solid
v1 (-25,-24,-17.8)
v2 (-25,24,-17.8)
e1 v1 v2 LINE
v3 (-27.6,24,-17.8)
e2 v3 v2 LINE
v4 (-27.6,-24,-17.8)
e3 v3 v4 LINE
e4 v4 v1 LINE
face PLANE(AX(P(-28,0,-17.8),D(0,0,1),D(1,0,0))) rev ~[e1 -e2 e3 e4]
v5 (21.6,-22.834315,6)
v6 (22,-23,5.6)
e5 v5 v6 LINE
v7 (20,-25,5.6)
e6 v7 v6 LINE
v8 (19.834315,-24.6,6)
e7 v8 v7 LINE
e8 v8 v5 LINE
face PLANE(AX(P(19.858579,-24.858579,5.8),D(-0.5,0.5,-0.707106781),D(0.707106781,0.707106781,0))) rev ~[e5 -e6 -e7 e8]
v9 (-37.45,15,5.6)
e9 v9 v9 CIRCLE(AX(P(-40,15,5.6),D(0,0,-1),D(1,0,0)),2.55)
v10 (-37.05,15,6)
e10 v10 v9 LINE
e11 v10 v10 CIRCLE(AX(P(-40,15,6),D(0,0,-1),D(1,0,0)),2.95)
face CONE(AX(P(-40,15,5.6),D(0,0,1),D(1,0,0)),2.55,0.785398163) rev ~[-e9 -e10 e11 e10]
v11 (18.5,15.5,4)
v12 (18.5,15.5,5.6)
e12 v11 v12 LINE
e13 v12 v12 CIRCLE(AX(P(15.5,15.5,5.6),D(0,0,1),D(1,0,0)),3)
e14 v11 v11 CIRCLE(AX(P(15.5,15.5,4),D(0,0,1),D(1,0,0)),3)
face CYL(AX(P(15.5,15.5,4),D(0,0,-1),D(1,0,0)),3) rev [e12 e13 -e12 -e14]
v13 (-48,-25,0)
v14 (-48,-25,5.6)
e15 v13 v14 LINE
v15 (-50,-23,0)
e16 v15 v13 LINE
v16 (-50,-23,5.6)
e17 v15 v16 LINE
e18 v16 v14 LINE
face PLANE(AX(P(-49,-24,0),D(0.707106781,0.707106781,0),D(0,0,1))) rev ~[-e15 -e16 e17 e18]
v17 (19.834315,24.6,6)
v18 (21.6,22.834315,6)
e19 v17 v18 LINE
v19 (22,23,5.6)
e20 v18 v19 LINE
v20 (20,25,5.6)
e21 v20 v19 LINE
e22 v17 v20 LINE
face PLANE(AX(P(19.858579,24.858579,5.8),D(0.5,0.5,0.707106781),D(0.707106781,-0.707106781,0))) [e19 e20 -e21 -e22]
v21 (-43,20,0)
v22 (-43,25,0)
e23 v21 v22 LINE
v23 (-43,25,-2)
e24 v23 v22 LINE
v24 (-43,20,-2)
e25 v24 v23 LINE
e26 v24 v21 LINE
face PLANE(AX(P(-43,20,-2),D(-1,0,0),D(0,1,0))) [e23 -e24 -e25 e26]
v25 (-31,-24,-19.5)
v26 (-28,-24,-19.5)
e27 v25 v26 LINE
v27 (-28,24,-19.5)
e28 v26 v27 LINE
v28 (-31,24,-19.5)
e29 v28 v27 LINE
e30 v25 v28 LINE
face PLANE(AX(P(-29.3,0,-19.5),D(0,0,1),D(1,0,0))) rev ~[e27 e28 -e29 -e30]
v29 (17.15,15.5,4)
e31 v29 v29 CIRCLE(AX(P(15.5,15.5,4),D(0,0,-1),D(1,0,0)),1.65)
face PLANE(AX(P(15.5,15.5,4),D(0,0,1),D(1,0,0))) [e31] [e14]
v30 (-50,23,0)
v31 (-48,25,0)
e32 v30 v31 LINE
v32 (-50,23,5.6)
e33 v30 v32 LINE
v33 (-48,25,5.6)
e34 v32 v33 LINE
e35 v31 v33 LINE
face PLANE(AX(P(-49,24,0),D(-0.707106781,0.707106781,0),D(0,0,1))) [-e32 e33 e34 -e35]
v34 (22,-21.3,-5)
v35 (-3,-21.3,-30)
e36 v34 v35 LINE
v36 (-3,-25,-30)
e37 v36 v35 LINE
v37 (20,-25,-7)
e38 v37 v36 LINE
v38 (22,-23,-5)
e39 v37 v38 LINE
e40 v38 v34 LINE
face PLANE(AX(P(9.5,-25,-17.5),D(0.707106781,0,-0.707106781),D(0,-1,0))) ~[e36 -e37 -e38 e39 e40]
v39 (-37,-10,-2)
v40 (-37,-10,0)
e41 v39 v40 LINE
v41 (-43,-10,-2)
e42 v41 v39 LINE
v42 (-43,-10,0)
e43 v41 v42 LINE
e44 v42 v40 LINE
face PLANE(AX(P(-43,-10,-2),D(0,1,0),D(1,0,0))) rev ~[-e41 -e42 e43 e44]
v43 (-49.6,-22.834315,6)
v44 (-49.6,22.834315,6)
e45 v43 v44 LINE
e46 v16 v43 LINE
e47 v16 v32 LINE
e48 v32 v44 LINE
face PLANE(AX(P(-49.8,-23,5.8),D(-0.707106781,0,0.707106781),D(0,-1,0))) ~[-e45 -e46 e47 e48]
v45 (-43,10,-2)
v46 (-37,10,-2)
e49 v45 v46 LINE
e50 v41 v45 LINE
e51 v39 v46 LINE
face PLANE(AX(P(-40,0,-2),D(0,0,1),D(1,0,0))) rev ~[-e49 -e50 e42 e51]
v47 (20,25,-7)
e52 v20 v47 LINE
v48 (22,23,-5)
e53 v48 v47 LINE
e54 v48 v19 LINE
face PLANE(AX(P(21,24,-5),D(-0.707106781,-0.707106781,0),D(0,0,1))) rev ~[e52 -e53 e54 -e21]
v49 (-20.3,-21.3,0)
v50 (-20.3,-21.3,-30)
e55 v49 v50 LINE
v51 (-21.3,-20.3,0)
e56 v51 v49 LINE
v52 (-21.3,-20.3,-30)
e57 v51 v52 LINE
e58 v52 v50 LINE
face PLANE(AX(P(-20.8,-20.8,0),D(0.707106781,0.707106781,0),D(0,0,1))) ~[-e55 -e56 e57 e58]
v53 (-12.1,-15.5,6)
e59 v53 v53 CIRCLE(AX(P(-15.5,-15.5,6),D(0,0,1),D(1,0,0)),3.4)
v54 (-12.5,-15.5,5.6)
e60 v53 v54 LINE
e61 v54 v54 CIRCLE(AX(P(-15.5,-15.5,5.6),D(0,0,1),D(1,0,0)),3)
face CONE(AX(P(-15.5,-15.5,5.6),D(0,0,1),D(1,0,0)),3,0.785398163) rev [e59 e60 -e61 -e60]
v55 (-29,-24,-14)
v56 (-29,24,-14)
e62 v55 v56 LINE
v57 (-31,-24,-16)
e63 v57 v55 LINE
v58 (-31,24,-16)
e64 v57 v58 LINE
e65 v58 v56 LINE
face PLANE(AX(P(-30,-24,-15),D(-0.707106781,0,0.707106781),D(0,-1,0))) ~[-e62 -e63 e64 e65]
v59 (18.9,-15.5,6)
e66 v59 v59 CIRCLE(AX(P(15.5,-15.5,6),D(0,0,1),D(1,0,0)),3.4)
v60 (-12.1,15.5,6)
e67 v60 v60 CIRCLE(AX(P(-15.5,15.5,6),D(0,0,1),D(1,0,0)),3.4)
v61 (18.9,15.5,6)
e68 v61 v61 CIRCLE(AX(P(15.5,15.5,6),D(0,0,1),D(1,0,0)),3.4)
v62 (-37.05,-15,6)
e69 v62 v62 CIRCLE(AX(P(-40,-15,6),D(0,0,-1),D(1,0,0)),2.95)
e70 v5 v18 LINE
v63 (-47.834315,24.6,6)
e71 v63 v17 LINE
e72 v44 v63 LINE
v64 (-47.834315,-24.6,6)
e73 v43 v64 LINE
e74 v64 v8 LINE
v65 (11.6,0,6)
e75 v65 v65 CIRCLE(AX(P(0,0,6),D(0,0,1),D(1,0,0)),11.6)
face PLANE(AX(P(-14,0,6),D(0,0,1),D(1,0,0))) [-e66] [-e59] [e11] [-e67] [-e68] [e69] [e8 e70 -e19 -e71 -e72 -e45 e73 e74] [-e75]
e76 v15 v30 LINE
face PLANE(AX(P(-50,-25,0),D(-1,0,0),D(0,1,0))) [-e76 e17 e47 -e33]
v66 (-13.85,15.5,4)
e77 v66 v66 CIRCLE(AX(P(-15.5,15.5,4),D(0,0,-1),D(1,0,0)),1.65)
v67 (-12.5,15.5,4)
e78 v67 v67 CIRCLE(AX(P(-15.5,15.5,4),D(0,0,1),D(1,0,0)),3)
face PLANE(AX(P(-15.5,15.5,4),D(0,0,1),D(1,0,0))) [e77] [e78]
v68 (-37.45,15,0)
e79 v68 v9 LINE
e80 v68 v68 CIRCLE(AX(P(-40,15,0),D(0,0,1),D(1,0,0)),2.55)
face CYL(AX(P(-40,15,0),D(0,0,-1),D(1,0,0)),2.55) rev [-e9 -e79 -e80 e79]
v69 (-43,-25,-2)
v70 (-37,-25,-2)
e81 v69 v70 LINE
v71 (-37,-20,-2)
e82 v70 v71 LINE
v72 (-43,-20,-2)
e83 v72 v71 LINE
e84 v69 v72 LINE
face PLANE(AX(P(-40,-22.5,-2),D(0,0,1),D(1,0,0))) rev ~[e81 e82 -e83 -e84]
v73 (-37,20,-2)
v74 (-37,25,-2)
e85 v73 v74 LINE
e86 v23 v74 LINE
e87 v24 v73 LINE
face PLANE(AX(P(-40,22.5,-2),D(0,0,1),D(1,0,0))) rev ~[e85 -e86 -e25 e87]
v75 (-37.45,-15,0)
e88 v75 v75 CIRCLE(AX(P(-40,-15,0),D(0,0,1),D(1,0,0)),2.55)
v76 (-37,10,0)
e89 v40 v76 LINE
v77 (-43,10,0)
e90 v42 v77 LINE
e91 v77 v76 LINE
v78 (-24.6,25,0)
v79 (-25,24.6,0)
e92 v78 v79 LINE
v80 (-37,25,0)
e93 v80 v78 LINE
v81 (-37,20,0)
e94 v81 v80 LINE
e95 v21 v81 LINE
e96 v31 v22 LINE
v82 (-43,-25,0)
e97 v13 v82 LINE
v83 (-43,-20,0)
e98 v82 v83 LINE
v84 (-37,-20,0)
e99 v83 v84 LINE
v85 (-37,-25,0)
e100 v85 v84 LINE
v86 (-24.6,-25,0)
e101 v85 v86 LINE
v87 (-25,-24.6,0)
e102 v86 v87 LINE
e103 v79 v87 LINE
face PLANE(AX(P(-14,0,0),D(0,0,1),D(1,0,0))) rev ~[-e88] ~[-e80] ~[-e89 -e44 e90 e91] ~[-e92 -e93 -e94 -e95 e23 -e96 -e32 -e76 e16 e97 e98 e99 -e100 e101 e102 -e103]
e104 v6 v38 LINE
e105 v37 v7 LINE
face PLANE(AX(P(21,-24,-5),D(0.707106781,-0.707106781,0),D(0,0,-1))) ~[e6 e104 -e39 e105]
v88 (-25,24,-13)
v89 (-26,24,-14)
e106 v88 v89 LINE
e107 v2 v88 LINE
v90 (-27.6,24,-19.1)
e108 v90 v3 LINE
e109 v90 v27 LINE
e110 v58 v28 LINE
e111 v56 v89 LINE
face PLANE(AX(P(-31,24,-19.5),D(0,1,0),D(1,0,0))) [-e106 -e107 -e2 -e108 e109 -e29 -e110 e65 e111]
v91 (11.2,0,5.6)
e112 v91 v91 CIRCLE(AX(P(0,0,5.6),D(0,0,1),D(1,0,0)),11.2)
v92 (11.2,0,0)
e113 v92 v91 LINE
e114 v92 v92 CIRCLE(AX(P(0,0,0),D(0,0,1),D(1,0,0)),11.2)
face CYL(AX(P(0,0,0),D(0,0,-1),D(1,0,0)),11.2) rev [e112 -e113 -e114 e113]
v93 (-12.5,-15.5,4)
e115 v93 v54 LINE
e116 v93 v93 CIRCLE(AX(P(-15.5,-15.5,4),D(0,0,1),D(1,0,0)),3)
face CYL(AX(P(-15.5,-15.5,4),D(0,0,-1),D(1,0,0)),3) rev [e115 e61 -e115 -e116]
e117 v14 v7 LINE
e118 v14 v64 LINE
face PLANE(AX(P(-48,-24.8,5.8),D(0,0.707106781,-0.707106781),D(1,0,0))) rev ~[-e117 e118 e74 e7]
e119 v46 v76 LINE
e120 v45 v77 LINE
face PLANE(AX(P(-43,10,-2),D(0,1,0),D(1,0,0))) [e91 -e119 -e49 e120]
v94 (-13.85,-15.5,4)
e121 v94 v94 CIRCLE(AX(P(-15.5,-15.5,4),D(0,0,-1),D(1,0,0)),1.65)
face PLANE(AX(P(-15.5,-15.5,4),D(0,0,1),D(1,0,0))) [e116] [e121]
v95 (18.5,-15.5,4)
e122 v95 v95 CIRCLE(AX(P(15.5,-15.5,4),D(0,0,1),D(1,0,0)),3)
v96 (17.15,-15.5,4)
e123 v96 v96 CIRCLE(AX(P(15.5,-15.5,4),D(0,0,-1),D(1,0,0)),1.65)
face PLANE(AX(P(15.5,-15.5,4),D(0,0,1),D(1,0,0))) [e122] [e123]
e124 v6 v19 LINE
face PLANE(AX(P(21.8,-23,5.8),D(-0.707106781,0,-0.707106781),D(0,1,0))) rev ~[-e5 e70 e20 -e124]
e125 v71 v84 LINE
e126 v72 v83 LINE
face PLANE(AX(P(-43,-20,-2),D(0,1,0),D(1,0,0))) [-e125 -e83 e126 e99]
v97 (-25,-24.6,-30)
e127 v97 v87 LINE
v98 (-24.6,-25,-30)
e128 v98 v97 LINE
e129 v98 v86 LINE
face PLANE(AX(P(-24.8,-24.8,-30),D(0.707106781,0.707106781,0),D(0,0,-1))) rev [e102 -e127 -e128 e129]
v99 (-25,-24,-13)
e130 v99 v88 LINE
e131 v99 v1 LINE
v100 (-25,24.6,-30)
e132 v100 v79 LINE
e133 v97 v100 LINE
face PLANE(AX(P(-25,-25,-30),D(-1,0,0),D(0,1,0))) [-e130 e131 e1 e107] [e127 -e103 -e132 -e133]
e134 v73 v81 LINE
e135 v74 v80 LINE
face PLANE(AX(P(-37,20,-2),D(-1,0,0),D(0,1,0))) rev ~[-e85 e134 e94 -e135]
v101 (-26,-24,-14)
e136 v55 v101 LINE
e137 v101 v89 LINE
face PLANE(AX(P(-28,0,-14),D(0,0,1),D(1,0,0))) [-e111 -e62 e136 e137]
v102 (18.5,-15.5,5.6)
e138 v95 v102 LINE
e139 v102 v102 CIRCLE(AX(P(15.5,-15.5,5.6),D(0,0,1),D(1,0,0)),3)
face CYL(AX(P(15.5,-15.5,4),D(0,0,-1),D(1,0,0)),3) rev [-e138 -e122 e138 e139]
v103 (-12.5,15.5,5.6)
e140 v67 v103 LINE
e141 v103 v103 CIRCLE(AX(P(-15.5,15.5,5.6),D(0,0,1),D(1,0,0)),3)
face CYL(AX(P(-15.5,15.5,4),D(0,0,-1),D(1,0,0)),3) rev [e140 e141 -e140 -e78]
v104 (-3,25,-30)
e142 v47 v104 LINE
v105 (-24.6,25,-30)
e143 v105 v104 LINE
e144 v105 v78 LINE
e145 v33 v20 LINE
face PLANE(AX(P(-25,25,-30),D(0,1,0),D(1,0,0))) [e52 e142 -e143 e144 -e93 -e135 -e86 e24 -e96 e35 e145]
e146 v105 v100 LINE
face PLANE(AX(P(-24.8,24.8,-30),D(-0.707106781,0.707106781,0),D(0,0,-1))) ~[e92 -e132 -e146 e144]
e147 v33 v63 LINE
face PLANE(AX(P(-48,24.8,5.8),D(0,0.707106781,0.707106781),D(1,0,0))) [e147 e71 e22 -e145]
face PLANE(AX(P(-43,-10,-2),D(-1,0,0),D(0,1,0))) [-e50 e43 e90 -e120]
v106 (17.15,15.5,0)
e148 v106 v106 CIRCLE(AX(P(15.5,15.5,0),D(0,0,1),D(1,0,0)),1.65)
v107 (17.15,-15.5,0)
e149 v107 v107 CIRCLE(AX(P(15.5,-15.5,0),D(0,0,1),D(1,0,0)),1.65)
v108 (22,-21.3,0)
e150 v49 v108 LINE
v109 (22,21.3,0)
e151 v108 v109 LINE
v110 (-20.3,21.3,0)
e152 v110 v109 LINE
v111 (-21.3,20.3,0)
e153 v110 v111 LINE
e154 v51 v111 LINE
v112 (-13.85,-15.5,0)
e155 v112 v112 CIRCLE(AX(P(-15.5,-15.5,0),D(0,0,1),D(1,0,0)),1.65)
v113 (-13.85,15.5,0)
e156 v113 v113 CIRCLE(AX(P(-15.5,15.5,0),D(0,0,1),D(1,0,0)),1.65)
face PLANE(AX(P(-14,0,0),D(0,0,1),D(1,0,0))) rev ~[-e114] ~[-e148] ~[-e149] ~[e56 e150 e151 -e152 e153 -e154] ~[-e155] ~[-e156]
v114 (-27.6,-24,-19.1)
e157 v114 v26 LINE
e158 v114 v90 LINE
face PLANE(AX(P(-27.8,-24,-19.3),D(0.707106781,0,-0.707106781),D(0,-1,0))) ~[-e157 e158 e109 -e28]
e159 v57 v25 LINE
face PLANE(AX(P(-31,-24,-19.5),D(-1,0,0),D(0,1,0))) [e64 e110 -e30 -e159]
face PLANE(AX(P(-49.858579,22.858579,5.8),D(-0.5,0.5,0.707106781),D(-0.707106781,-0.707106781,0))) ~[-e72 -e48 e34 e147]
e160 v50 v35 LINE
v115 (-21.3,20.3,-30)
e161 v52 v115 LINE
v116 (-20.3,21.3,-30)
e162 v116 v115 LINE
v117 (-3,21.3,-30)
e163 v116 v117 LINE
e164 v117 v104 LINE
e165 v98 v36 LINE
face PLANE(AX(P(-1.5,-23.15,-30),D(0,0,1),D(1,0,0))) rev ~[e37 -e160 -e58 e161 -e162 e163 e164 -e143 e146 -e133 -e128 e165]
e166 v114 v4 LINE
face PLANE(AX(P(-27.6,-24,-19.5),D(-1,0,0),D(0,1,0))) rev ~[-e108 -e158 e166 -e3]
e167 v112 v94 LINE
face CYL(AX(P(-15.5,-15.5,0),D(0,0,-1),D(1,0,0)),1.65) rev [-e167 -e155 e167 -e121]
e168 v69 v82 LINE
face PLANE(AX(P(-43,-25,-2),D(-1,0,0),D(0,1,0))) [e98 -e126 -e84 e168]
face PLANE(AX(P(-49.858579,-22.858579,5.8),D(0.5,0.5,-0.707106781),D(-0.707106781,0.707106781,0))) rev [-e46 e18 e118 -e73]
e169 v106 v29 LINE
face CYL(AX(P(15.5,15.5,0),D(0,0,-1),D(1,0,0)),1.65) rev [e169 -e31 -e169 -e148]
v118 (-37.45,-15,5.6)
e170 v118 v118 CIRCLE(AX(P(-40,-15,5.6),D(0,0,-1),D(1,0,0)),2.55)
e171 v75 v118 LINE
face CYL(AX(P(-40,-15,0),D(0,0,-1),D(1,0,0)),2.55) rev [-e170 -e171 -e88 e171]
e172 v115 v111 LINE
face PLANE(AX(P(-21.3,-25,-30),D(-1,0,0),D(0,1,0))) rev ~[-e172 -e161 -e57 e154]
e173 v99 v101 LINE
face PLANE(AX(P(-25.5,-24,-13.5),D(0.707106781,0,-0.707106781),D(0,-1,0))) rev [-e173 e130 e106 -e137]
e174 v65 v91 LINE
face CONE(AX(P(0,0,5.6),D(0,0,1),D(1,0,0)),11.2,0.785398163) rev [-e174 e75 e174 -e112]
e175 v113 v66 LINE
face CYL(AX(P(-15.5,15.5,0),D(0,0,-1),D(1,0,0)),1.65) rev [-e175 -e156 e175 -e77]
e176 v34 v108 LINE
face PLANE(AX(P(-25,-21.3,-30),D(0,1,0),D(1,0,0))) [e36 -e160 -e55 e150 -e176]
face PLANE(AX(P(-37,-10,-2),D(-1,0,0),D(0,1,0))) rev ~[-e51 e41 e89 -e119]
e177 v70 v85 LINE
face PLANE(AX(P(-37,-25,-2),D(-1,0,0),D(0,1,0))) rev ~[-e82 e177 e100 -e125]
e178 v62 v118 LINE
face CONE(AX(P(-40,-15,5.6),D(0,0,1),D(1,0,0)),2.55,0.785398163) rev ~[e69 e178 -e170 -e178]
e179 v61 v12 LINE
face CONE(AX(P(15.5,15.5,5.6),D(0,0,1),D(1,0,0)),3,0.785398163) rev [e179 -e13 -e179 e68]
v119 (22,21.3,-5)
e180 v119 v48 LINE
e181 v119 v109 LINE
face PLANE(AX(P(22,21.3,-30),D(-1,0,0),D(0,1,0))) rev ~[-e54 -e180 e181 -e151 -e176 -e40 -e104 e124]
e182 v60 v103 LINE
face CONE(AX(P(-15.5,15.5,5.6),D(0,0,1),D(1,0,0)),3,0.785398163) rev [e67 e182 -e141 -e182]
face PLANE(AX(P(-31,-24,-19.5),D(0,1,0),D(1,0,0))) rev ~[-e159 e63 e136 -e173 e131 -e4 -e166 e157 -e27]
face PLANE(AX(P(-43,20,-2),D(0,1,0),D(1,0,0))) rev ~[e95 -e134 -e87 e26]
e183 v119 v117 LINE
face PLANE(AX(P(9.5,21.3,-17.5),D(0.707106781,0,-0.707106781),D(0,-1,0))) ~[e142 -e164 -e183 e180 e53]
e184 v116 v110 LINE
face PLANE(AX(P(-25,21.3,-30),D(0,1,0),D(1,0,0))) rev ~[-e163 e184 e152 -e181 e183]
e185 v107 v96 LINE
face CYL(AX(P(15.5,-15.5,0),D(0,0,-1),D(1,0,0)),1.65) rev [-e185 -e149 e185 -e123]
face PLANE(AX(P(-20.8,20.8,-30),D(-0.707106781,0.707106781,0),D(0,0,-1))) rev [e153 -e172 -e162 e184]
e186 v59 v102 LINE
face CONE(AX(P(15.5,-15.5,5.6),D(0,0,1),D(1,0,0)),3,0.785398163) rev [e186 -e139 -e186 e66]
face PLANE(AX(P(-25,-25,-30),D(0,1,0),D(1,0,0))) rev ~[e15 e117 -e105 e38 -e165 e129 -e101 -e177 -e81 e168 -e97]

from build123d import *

# Parameters (mm, degrees)
BOX012_W           = 6
BOX012_H           = 20
BOX012_DEPTH       = 2
BOX013_W           = 6
BOX013_H           = 5
BOX013_DEPTH       = 2
BOX014_W           = 6
BOX014_H           = 5
BOX014_DEPTH       = 2
BOX010_W           = 3.4
BOX010_H           = 48
BOX010_DEPTH       = 2.5
CHAMFER020_SIZE    = 0.4
BOX009_W           = 6
BOX009_H           = 48
BOX009_DEPTH       = 3.8
CHAMFER021_SIZE    = 2
BOX008_W           = 3.7
BOX008_H           = 50
BOX008_DEPTH       = 30
BOX006_W           = 47
BOX006_H           = 3.7
BOX006_DEPTH       = 30
CHAMFER005_SIZE    = 25
CHAMFER016_SIZE    = 2
BOX007_W           = 47
BOX007_H           = 3.7
BOX007_DEPTH       = 30
CHAMFER006_SIZE    = 25
CHAMFER017_SIZE    = 2
CHAMFER019_SIZE    = 0.4
CHAMFER023_SIZE    = 1
CHAMFER033003_SIZE = 1
CYLINDER014_R      = 2.55
CYLINDER014_DEPTH  = 10
CYLINDER015_R      = 2.55
CYLINDER015_DEPTH  = 10
CYLINDER012_R      = 3
CYLINDER012_DEPTH  = 2
CYLINDER011_R      = 3
CYLINDER011_DEPTH  = 2
CYLINDER010_R      = 3
CYLINDER010_DEPTH  = 2
CYLINDER013_R      = 3
CYLINDER013_DEPTH  = 2
CYLINDER009_R      = 1.65
CYLINDER009_DEPTH  = 10
CYLINDER006_R      = 1.65
CYLINDER006_DEPTH  = 10
CYLINDER007_R      = 1.65
CYLINDER007_DEPTH  = 10
CYLINDER_R         = 11.2
CYLINDER_DEPTH     = 6
CYLINDER008_R      = 1.65
CYLINDER008_DEPTH  = 10
BOX005_W           = 72
BOX005_H           = 50
BOX005_DEPTH       = 6
CHAMFER033004_SIZE = 2
CHAMFER033005_SIZE = 0.4


with BuildPart() as cube012:
    # Box012 → Box012 (new body)
    with BuildSketch(Plane(origin=(-43, -10, -2), x_dir=(1, 0, 0), z_dir=(0, 0, 1))):
        with Locations((3, 10)):
            Rectangle(BOX012_W, BOX012_H)
    extrude(amount=BOX012_DEPTH)


with BuildPart() as cube013:
    # Box013 → Box013 (new body)
    with BuildSketch(Plane(origin=(-43, -25, -2), x_dir=(1, 0, 0), z_dir=(0, 0, 1))):
        with Locations((3, 2.5)):
            Rectangle(BOX013_W, BOX013_H)
    extrude(amount=BOX013_DEPTH)


with BuildPart() as fusion020005:
    # Box014 → Box014 (new body)
    with BuildSketch(Plane(origin=(-43, 20, -2), x_dir=(1, 0, 0), z_dir=(0, 0, 1))):
        with Locations((3, 2.5)):
            Rectangle(BOX014_W, BOX014_H)
    extrude(amount=BOX014_DEPTH)

    # Fusion020005: union Cube012, Cube013
    add(cube012.part)
    add(cube013.part)


with BuildPart() as chamfer020:
    # Box010 → Box010 (new body)
    with BuildSketch(Plane(origin=(-31, -24, -19.5), x_dir=(1, 0, 0), z_dir=(0, 0, 1))):
        with Locations((1.7, 24)):
            Rectangle(BOX010_W, BOX010_H)
    extrude(amount=BOX010_DEPTH)

    # Chamfer020
    chamfer020_edges = [chamfer020.edges().sort_by_distance(p)[0] for p in [
        (-27.6, 0, -19.5),
    ]]
    chamfer(chamfer020_edges, length=CHAMFER020_SIZE)


with BuildPart() as fusion014:
    # Box009 → Box009 (new body)
    with BuildSketch(Plane(origin=(-31, -24, -17.8), x_dir=(1, 0, 0), z_dir=(0, 0, 1))):
        with Locations((3, 24)):
            Rectangle(BOX009_W, BOX009_H)
    extrude(amount=BOX009_DEPTH)

    # Chamfer021
    chamfer021_edges = [fusion014.edges().sort_by_distance(p)[0] for p in [
        (-31, 0, -14),
    ]]
    chamfer(chamfer021_edges, length=CHAMFER021_SIZE)

    # Fusion014: union Chamfer020
    add(chamfer020.part)


with BuildPart() as cube008:
    # Box008 → Box008 (new body)
    with BuildSketch(Plane(origin=(-25, -25, -30), x_dir=(1, 0, 0), z_dir=(0, 0, 1))):
        with Locations((1.85, 25)):
            Rectangle(BOX008_W, BOX008_H)
    extrude(amount=BOX008_DEPTH)


with BuildPart() as chamfer016:
    # Box006 → Box006 (new body)
    with BuildSketch(Plane(origin=(-25, -25, -30), x_dir=(1, 0, 0), z_dir=(0, 0, 1))):
        with Locations((23.5, 1.85)):
            Rectangle(BOX006_W, BOX006_H)
    extrude(amount=BOX006_DEPTH)

    # Chamfer005
    chamfer005_edges = [chamfer016.edges().sort_by_distance(p)[0] for p in [
        (22, -23.15, -30),
    ]]
    chamfer(chamfer005_edges, length=CHAMFER005_SIZE)

    # Chamfer016
    chamfer016_edges = [chamfer016.edges().sort_by_distance(p)[0] for p in [
        (22, -25, -2.5),
    ]]
    chamfer(chamfer016_edges, length=CHAMFER016_SIZE)


with BuildPart() as chamfer033003:
    # Box007 → Box007 (new body)
    with BuildSketch(Plane(origin=(-25, 21.3, -30), x_dir=(1, 0, 0), z_dir=(0, 0, 1))):
        with Locations((23.5, 1.85)):
            Rectangle(BOX007_W, BOX007_H)
    extrude(amount=BOX007_DEPTH)

    # Chamfer006
    chamfer006_edges = [chamfer033003.edges().sort_by_distance(p)[0] for p in [
        (22, 23.15, -30),
    ]]
    chamfer(chamfer006_edges, length=CHAMFER006_SIZE)

    # Chamfer017
    chamfer017_edges = [chamfer033003.edges().sort_by_distance(p)[0] for p in [
        (22, 25, -2.5),
    ]]
    chamfer(chamfer017_edges, length=CHAMFER017_SIZE)

    # Fusion013: union Cube008, Chamfer016
    add(cube008.part)
    add(chamfer016.part)

    # Chamfer019
    chamfer019_edges = [chamfer033003.edges().sort_by_distance(p)[0] for p in [
        (-25, -25, -15),
        (-25, 25, -15),
    ]]
    chamfer(chamfer019_edges, length=CHAMFER019_SIZE)

    # Chamfer023
    chamfer023_edges = [chamfer033003.edges().sort_by_distance(p)[0] for p in [
        (-21.3, 21.3, -15),
        (-21.3, -21.3, -15),
    ]]
    chamfer(chamfer023_edges, length=CHAMFER023_SIZE)

    # Fusion020004: union Fusion014
    add(fusion014.part)

    # Chamfer033003
    chamfer033003_edges = [chamfer033003.edges().sort_by_distance(p)[0] for p in [
        (-25, 0, -14),
    ]]
    chamfer(chamfer033003_edges, length=CHAMFER033003_SIZE)


with BuildPart() as cylinder014:
    # Cylinder014 → Cylinder014 (new body)
    with BuildSketch(Plane(origin=(-40, -15, 0), x_dir=(1, 0, 0), z_dir=(0, 0, 1))):
        Circle(CYLINDER014_R)
    extrude(amount=CYLINDER014_DEPTH)


with BuildPart() as fusion020003:
    # Cylinder015 → Cylinder015 (new body)
    with BuildSketch(Plane(origin=(-40, 15, 0), x_dir=(1, 0, 0), z_dir=(0, 0, 1))):
        Circle(CYLINDER015_R)
    extrude(amount=CYLINDER015_DEPTH)

    # Fusion020003: union Cylinder014
    add(cylinder014.part)


with BuildPart() as cylinder012:
    # Cylinder012 → Cylinder012 (new body)
    with BuildSketch(Plane(origin=(-15.5, -15.5, 0), x_dir=(1, 0, 0), z_dir=(0, 0, 1))):
        Circle(CYLINDER012_R)
    extrude(amount=CYLINDER012_DEPTH)


with BuildPart() as cylinder011:
    # Cylinder011 → Cylinder011 (new body)
    with BuildSketch(Plane(origin=(-15.5, 15.5, 0), x_dir=(1, 0, 0), z_dir=(0, 0, 1))):
        Circle(CYLINDER011_R)
    extrude(amount=CYLINDER011_DEPTH)


with BuildPart() as cylinder010:
    # Cylinder010 → Cylinder010 (new body)
    with BuildSketch(Plane(origin=(15.5, 15.5, 0), x_dir=(1, 0, 0), z_dir=(0, 0, 1))):
        Circle(CYLINDER010_R)
    extrude(amount=CYLINDER010_DEPTH)


with BuildPart() as fusion003:
    # Cylinder013 → Cylinder013 (new body)
    with BuildSketch(Plane(origin=(15.5, -15.5, 0), x_dir=(1, 0, 0), z_dir=(0, 0, 1))):
        Circle(CYLINDER013_R)
    extrude(amount=CYLINDER013_DEPTH)

    # Fusion003: union Cylinder012, Cylinder011, Cylinder010
    add(cylinder012.part)
    add(cylinder011.part)
    add(cylinder010.part)


with BuildPart() as fusion003_1:
    # Fusion003 placement: moved
    add(fusion003.part.moved(Location((0, 0, 4))))


with BuildPart() as cylinder009:
    # Cylinder009 → Cylinder009 (new body)
    with BuildSketch(Plane(origin=(15.5, -15.5, 0), x_dir=(1, 0, 0), z_dir=(0, 0, 1))):
        Circle(CYLINDER009_R)
    extrude(amount=CYLINDER009_DEPTH)


with BuildPart() as cylinder006:
    # Cylinder006 → Cylinder006 (new body)
    with BuildSketch(Plane(origin=(-15.5, 15.5, 0), x_dir=(1, 0, 0), z_dir=(0, 0, 1))):
        Circle(CYLINDER006_R)
    extrude(amount=CYLINDER006_DEPTH)


with BuildPart() as cylinder007:
    # Cylinder007 → Cylinder007 (new body)
    with BuildSketch(Plane(origin=(15.5, 15.5, 0), x_dir=(1, 0, 0), z_dir=(0, 0, 1))):
        Circle(CYLINDER007_R)
    extrude(amount=CYLINDER007_DEPTH)


with BuildPart() as cylinder:
    # Cylinder → Cylinder (new body)
    with BuildSketch(Plane.XY):
        Circle(CYLINDER_R)
    extrude(amount=CYLINDER_DEPTH)


with BuildPart() as fusion012:
    # Cylinder008 → Cylinder008 (new body)
    with BuildSketch(Plane(origin=(-15.5, -15.5, 0), x_dir=(1, 0, 0), z_dir=(0, 0, 1))):
        Circle(CYLINDER008_R)
    extrude(amount=CYLINDER008_DEPTH)

    # Fusion012: union Fusion003, Cylinder009, Cylinder006, Cylinder007, Cylinder
    add(fusion003_1.part)
    add(cylinder009.part)
    add(cylinder006.part)
    add(cylinder007.part)
    add(cylinder.part)


with BuildPart() as motor_mount_r2:
    # Box005 → Box005 (new body)
    with BuildSketch(Plane(origin=(-50, -25, 0), x_dir=(1, 0, 0), z_dir=(0, 0, 1))):
        with Locations((36, 25)):
            Rectangle(BOX005_W, BOX005_H)
    extrude(amount=BOX005_DEPTH)

    # Cut001: cut Fusion012
    add(fusion012.part, mode=Mode.SUBTRACT)

    # Cut009: cut Fusion020003
    add(fusion020003.part, mode=Mode.SUBTRACT)

    # Chamfer033004
    chamfer033004_edges = [motor_mount_r2.edges().sort_by_distance(p)[0] for p in [
        (-50, -25, 3),
        (-50, 25, 3),
        (22, -25, 3),
        (22, 25, 3),
    ]]
    chamfer(chamfer033004_edges, length=CHAMFER033004_SIZE)

    # Chamfer033005
    chamfer033005_edges = [motor_mount_r2.edges().sort_by_distance(p)[0] for p in [
        (-50, 0, 6),
        (-49, -24, 6),
        (-49, 24, 6),
        (-14, -25, 6),
        (-14, 25, 6),
        (21, -24, 6),
        (21, 24, 6),
        (22, 0, 6),
        (12.5, 15.5, 6),
        (12.5, -15.5, 6),
        (-11.2, 0, 6),
        (-18.5, 15.5, 6),
        (-18.5, -15.5, 6),
        (-42.55, -15, 6),
        (-42.55, 15, 6),
    ]]
    chamfer(chamfer033005_edges, length=CHAMFER033005_SIZE)

    # Fusion020006: union Fusion020005, Chamfer033003
    add(fusion020005.part)
    add(chamfer033003.part)


solid = motor_mount_r2.part
